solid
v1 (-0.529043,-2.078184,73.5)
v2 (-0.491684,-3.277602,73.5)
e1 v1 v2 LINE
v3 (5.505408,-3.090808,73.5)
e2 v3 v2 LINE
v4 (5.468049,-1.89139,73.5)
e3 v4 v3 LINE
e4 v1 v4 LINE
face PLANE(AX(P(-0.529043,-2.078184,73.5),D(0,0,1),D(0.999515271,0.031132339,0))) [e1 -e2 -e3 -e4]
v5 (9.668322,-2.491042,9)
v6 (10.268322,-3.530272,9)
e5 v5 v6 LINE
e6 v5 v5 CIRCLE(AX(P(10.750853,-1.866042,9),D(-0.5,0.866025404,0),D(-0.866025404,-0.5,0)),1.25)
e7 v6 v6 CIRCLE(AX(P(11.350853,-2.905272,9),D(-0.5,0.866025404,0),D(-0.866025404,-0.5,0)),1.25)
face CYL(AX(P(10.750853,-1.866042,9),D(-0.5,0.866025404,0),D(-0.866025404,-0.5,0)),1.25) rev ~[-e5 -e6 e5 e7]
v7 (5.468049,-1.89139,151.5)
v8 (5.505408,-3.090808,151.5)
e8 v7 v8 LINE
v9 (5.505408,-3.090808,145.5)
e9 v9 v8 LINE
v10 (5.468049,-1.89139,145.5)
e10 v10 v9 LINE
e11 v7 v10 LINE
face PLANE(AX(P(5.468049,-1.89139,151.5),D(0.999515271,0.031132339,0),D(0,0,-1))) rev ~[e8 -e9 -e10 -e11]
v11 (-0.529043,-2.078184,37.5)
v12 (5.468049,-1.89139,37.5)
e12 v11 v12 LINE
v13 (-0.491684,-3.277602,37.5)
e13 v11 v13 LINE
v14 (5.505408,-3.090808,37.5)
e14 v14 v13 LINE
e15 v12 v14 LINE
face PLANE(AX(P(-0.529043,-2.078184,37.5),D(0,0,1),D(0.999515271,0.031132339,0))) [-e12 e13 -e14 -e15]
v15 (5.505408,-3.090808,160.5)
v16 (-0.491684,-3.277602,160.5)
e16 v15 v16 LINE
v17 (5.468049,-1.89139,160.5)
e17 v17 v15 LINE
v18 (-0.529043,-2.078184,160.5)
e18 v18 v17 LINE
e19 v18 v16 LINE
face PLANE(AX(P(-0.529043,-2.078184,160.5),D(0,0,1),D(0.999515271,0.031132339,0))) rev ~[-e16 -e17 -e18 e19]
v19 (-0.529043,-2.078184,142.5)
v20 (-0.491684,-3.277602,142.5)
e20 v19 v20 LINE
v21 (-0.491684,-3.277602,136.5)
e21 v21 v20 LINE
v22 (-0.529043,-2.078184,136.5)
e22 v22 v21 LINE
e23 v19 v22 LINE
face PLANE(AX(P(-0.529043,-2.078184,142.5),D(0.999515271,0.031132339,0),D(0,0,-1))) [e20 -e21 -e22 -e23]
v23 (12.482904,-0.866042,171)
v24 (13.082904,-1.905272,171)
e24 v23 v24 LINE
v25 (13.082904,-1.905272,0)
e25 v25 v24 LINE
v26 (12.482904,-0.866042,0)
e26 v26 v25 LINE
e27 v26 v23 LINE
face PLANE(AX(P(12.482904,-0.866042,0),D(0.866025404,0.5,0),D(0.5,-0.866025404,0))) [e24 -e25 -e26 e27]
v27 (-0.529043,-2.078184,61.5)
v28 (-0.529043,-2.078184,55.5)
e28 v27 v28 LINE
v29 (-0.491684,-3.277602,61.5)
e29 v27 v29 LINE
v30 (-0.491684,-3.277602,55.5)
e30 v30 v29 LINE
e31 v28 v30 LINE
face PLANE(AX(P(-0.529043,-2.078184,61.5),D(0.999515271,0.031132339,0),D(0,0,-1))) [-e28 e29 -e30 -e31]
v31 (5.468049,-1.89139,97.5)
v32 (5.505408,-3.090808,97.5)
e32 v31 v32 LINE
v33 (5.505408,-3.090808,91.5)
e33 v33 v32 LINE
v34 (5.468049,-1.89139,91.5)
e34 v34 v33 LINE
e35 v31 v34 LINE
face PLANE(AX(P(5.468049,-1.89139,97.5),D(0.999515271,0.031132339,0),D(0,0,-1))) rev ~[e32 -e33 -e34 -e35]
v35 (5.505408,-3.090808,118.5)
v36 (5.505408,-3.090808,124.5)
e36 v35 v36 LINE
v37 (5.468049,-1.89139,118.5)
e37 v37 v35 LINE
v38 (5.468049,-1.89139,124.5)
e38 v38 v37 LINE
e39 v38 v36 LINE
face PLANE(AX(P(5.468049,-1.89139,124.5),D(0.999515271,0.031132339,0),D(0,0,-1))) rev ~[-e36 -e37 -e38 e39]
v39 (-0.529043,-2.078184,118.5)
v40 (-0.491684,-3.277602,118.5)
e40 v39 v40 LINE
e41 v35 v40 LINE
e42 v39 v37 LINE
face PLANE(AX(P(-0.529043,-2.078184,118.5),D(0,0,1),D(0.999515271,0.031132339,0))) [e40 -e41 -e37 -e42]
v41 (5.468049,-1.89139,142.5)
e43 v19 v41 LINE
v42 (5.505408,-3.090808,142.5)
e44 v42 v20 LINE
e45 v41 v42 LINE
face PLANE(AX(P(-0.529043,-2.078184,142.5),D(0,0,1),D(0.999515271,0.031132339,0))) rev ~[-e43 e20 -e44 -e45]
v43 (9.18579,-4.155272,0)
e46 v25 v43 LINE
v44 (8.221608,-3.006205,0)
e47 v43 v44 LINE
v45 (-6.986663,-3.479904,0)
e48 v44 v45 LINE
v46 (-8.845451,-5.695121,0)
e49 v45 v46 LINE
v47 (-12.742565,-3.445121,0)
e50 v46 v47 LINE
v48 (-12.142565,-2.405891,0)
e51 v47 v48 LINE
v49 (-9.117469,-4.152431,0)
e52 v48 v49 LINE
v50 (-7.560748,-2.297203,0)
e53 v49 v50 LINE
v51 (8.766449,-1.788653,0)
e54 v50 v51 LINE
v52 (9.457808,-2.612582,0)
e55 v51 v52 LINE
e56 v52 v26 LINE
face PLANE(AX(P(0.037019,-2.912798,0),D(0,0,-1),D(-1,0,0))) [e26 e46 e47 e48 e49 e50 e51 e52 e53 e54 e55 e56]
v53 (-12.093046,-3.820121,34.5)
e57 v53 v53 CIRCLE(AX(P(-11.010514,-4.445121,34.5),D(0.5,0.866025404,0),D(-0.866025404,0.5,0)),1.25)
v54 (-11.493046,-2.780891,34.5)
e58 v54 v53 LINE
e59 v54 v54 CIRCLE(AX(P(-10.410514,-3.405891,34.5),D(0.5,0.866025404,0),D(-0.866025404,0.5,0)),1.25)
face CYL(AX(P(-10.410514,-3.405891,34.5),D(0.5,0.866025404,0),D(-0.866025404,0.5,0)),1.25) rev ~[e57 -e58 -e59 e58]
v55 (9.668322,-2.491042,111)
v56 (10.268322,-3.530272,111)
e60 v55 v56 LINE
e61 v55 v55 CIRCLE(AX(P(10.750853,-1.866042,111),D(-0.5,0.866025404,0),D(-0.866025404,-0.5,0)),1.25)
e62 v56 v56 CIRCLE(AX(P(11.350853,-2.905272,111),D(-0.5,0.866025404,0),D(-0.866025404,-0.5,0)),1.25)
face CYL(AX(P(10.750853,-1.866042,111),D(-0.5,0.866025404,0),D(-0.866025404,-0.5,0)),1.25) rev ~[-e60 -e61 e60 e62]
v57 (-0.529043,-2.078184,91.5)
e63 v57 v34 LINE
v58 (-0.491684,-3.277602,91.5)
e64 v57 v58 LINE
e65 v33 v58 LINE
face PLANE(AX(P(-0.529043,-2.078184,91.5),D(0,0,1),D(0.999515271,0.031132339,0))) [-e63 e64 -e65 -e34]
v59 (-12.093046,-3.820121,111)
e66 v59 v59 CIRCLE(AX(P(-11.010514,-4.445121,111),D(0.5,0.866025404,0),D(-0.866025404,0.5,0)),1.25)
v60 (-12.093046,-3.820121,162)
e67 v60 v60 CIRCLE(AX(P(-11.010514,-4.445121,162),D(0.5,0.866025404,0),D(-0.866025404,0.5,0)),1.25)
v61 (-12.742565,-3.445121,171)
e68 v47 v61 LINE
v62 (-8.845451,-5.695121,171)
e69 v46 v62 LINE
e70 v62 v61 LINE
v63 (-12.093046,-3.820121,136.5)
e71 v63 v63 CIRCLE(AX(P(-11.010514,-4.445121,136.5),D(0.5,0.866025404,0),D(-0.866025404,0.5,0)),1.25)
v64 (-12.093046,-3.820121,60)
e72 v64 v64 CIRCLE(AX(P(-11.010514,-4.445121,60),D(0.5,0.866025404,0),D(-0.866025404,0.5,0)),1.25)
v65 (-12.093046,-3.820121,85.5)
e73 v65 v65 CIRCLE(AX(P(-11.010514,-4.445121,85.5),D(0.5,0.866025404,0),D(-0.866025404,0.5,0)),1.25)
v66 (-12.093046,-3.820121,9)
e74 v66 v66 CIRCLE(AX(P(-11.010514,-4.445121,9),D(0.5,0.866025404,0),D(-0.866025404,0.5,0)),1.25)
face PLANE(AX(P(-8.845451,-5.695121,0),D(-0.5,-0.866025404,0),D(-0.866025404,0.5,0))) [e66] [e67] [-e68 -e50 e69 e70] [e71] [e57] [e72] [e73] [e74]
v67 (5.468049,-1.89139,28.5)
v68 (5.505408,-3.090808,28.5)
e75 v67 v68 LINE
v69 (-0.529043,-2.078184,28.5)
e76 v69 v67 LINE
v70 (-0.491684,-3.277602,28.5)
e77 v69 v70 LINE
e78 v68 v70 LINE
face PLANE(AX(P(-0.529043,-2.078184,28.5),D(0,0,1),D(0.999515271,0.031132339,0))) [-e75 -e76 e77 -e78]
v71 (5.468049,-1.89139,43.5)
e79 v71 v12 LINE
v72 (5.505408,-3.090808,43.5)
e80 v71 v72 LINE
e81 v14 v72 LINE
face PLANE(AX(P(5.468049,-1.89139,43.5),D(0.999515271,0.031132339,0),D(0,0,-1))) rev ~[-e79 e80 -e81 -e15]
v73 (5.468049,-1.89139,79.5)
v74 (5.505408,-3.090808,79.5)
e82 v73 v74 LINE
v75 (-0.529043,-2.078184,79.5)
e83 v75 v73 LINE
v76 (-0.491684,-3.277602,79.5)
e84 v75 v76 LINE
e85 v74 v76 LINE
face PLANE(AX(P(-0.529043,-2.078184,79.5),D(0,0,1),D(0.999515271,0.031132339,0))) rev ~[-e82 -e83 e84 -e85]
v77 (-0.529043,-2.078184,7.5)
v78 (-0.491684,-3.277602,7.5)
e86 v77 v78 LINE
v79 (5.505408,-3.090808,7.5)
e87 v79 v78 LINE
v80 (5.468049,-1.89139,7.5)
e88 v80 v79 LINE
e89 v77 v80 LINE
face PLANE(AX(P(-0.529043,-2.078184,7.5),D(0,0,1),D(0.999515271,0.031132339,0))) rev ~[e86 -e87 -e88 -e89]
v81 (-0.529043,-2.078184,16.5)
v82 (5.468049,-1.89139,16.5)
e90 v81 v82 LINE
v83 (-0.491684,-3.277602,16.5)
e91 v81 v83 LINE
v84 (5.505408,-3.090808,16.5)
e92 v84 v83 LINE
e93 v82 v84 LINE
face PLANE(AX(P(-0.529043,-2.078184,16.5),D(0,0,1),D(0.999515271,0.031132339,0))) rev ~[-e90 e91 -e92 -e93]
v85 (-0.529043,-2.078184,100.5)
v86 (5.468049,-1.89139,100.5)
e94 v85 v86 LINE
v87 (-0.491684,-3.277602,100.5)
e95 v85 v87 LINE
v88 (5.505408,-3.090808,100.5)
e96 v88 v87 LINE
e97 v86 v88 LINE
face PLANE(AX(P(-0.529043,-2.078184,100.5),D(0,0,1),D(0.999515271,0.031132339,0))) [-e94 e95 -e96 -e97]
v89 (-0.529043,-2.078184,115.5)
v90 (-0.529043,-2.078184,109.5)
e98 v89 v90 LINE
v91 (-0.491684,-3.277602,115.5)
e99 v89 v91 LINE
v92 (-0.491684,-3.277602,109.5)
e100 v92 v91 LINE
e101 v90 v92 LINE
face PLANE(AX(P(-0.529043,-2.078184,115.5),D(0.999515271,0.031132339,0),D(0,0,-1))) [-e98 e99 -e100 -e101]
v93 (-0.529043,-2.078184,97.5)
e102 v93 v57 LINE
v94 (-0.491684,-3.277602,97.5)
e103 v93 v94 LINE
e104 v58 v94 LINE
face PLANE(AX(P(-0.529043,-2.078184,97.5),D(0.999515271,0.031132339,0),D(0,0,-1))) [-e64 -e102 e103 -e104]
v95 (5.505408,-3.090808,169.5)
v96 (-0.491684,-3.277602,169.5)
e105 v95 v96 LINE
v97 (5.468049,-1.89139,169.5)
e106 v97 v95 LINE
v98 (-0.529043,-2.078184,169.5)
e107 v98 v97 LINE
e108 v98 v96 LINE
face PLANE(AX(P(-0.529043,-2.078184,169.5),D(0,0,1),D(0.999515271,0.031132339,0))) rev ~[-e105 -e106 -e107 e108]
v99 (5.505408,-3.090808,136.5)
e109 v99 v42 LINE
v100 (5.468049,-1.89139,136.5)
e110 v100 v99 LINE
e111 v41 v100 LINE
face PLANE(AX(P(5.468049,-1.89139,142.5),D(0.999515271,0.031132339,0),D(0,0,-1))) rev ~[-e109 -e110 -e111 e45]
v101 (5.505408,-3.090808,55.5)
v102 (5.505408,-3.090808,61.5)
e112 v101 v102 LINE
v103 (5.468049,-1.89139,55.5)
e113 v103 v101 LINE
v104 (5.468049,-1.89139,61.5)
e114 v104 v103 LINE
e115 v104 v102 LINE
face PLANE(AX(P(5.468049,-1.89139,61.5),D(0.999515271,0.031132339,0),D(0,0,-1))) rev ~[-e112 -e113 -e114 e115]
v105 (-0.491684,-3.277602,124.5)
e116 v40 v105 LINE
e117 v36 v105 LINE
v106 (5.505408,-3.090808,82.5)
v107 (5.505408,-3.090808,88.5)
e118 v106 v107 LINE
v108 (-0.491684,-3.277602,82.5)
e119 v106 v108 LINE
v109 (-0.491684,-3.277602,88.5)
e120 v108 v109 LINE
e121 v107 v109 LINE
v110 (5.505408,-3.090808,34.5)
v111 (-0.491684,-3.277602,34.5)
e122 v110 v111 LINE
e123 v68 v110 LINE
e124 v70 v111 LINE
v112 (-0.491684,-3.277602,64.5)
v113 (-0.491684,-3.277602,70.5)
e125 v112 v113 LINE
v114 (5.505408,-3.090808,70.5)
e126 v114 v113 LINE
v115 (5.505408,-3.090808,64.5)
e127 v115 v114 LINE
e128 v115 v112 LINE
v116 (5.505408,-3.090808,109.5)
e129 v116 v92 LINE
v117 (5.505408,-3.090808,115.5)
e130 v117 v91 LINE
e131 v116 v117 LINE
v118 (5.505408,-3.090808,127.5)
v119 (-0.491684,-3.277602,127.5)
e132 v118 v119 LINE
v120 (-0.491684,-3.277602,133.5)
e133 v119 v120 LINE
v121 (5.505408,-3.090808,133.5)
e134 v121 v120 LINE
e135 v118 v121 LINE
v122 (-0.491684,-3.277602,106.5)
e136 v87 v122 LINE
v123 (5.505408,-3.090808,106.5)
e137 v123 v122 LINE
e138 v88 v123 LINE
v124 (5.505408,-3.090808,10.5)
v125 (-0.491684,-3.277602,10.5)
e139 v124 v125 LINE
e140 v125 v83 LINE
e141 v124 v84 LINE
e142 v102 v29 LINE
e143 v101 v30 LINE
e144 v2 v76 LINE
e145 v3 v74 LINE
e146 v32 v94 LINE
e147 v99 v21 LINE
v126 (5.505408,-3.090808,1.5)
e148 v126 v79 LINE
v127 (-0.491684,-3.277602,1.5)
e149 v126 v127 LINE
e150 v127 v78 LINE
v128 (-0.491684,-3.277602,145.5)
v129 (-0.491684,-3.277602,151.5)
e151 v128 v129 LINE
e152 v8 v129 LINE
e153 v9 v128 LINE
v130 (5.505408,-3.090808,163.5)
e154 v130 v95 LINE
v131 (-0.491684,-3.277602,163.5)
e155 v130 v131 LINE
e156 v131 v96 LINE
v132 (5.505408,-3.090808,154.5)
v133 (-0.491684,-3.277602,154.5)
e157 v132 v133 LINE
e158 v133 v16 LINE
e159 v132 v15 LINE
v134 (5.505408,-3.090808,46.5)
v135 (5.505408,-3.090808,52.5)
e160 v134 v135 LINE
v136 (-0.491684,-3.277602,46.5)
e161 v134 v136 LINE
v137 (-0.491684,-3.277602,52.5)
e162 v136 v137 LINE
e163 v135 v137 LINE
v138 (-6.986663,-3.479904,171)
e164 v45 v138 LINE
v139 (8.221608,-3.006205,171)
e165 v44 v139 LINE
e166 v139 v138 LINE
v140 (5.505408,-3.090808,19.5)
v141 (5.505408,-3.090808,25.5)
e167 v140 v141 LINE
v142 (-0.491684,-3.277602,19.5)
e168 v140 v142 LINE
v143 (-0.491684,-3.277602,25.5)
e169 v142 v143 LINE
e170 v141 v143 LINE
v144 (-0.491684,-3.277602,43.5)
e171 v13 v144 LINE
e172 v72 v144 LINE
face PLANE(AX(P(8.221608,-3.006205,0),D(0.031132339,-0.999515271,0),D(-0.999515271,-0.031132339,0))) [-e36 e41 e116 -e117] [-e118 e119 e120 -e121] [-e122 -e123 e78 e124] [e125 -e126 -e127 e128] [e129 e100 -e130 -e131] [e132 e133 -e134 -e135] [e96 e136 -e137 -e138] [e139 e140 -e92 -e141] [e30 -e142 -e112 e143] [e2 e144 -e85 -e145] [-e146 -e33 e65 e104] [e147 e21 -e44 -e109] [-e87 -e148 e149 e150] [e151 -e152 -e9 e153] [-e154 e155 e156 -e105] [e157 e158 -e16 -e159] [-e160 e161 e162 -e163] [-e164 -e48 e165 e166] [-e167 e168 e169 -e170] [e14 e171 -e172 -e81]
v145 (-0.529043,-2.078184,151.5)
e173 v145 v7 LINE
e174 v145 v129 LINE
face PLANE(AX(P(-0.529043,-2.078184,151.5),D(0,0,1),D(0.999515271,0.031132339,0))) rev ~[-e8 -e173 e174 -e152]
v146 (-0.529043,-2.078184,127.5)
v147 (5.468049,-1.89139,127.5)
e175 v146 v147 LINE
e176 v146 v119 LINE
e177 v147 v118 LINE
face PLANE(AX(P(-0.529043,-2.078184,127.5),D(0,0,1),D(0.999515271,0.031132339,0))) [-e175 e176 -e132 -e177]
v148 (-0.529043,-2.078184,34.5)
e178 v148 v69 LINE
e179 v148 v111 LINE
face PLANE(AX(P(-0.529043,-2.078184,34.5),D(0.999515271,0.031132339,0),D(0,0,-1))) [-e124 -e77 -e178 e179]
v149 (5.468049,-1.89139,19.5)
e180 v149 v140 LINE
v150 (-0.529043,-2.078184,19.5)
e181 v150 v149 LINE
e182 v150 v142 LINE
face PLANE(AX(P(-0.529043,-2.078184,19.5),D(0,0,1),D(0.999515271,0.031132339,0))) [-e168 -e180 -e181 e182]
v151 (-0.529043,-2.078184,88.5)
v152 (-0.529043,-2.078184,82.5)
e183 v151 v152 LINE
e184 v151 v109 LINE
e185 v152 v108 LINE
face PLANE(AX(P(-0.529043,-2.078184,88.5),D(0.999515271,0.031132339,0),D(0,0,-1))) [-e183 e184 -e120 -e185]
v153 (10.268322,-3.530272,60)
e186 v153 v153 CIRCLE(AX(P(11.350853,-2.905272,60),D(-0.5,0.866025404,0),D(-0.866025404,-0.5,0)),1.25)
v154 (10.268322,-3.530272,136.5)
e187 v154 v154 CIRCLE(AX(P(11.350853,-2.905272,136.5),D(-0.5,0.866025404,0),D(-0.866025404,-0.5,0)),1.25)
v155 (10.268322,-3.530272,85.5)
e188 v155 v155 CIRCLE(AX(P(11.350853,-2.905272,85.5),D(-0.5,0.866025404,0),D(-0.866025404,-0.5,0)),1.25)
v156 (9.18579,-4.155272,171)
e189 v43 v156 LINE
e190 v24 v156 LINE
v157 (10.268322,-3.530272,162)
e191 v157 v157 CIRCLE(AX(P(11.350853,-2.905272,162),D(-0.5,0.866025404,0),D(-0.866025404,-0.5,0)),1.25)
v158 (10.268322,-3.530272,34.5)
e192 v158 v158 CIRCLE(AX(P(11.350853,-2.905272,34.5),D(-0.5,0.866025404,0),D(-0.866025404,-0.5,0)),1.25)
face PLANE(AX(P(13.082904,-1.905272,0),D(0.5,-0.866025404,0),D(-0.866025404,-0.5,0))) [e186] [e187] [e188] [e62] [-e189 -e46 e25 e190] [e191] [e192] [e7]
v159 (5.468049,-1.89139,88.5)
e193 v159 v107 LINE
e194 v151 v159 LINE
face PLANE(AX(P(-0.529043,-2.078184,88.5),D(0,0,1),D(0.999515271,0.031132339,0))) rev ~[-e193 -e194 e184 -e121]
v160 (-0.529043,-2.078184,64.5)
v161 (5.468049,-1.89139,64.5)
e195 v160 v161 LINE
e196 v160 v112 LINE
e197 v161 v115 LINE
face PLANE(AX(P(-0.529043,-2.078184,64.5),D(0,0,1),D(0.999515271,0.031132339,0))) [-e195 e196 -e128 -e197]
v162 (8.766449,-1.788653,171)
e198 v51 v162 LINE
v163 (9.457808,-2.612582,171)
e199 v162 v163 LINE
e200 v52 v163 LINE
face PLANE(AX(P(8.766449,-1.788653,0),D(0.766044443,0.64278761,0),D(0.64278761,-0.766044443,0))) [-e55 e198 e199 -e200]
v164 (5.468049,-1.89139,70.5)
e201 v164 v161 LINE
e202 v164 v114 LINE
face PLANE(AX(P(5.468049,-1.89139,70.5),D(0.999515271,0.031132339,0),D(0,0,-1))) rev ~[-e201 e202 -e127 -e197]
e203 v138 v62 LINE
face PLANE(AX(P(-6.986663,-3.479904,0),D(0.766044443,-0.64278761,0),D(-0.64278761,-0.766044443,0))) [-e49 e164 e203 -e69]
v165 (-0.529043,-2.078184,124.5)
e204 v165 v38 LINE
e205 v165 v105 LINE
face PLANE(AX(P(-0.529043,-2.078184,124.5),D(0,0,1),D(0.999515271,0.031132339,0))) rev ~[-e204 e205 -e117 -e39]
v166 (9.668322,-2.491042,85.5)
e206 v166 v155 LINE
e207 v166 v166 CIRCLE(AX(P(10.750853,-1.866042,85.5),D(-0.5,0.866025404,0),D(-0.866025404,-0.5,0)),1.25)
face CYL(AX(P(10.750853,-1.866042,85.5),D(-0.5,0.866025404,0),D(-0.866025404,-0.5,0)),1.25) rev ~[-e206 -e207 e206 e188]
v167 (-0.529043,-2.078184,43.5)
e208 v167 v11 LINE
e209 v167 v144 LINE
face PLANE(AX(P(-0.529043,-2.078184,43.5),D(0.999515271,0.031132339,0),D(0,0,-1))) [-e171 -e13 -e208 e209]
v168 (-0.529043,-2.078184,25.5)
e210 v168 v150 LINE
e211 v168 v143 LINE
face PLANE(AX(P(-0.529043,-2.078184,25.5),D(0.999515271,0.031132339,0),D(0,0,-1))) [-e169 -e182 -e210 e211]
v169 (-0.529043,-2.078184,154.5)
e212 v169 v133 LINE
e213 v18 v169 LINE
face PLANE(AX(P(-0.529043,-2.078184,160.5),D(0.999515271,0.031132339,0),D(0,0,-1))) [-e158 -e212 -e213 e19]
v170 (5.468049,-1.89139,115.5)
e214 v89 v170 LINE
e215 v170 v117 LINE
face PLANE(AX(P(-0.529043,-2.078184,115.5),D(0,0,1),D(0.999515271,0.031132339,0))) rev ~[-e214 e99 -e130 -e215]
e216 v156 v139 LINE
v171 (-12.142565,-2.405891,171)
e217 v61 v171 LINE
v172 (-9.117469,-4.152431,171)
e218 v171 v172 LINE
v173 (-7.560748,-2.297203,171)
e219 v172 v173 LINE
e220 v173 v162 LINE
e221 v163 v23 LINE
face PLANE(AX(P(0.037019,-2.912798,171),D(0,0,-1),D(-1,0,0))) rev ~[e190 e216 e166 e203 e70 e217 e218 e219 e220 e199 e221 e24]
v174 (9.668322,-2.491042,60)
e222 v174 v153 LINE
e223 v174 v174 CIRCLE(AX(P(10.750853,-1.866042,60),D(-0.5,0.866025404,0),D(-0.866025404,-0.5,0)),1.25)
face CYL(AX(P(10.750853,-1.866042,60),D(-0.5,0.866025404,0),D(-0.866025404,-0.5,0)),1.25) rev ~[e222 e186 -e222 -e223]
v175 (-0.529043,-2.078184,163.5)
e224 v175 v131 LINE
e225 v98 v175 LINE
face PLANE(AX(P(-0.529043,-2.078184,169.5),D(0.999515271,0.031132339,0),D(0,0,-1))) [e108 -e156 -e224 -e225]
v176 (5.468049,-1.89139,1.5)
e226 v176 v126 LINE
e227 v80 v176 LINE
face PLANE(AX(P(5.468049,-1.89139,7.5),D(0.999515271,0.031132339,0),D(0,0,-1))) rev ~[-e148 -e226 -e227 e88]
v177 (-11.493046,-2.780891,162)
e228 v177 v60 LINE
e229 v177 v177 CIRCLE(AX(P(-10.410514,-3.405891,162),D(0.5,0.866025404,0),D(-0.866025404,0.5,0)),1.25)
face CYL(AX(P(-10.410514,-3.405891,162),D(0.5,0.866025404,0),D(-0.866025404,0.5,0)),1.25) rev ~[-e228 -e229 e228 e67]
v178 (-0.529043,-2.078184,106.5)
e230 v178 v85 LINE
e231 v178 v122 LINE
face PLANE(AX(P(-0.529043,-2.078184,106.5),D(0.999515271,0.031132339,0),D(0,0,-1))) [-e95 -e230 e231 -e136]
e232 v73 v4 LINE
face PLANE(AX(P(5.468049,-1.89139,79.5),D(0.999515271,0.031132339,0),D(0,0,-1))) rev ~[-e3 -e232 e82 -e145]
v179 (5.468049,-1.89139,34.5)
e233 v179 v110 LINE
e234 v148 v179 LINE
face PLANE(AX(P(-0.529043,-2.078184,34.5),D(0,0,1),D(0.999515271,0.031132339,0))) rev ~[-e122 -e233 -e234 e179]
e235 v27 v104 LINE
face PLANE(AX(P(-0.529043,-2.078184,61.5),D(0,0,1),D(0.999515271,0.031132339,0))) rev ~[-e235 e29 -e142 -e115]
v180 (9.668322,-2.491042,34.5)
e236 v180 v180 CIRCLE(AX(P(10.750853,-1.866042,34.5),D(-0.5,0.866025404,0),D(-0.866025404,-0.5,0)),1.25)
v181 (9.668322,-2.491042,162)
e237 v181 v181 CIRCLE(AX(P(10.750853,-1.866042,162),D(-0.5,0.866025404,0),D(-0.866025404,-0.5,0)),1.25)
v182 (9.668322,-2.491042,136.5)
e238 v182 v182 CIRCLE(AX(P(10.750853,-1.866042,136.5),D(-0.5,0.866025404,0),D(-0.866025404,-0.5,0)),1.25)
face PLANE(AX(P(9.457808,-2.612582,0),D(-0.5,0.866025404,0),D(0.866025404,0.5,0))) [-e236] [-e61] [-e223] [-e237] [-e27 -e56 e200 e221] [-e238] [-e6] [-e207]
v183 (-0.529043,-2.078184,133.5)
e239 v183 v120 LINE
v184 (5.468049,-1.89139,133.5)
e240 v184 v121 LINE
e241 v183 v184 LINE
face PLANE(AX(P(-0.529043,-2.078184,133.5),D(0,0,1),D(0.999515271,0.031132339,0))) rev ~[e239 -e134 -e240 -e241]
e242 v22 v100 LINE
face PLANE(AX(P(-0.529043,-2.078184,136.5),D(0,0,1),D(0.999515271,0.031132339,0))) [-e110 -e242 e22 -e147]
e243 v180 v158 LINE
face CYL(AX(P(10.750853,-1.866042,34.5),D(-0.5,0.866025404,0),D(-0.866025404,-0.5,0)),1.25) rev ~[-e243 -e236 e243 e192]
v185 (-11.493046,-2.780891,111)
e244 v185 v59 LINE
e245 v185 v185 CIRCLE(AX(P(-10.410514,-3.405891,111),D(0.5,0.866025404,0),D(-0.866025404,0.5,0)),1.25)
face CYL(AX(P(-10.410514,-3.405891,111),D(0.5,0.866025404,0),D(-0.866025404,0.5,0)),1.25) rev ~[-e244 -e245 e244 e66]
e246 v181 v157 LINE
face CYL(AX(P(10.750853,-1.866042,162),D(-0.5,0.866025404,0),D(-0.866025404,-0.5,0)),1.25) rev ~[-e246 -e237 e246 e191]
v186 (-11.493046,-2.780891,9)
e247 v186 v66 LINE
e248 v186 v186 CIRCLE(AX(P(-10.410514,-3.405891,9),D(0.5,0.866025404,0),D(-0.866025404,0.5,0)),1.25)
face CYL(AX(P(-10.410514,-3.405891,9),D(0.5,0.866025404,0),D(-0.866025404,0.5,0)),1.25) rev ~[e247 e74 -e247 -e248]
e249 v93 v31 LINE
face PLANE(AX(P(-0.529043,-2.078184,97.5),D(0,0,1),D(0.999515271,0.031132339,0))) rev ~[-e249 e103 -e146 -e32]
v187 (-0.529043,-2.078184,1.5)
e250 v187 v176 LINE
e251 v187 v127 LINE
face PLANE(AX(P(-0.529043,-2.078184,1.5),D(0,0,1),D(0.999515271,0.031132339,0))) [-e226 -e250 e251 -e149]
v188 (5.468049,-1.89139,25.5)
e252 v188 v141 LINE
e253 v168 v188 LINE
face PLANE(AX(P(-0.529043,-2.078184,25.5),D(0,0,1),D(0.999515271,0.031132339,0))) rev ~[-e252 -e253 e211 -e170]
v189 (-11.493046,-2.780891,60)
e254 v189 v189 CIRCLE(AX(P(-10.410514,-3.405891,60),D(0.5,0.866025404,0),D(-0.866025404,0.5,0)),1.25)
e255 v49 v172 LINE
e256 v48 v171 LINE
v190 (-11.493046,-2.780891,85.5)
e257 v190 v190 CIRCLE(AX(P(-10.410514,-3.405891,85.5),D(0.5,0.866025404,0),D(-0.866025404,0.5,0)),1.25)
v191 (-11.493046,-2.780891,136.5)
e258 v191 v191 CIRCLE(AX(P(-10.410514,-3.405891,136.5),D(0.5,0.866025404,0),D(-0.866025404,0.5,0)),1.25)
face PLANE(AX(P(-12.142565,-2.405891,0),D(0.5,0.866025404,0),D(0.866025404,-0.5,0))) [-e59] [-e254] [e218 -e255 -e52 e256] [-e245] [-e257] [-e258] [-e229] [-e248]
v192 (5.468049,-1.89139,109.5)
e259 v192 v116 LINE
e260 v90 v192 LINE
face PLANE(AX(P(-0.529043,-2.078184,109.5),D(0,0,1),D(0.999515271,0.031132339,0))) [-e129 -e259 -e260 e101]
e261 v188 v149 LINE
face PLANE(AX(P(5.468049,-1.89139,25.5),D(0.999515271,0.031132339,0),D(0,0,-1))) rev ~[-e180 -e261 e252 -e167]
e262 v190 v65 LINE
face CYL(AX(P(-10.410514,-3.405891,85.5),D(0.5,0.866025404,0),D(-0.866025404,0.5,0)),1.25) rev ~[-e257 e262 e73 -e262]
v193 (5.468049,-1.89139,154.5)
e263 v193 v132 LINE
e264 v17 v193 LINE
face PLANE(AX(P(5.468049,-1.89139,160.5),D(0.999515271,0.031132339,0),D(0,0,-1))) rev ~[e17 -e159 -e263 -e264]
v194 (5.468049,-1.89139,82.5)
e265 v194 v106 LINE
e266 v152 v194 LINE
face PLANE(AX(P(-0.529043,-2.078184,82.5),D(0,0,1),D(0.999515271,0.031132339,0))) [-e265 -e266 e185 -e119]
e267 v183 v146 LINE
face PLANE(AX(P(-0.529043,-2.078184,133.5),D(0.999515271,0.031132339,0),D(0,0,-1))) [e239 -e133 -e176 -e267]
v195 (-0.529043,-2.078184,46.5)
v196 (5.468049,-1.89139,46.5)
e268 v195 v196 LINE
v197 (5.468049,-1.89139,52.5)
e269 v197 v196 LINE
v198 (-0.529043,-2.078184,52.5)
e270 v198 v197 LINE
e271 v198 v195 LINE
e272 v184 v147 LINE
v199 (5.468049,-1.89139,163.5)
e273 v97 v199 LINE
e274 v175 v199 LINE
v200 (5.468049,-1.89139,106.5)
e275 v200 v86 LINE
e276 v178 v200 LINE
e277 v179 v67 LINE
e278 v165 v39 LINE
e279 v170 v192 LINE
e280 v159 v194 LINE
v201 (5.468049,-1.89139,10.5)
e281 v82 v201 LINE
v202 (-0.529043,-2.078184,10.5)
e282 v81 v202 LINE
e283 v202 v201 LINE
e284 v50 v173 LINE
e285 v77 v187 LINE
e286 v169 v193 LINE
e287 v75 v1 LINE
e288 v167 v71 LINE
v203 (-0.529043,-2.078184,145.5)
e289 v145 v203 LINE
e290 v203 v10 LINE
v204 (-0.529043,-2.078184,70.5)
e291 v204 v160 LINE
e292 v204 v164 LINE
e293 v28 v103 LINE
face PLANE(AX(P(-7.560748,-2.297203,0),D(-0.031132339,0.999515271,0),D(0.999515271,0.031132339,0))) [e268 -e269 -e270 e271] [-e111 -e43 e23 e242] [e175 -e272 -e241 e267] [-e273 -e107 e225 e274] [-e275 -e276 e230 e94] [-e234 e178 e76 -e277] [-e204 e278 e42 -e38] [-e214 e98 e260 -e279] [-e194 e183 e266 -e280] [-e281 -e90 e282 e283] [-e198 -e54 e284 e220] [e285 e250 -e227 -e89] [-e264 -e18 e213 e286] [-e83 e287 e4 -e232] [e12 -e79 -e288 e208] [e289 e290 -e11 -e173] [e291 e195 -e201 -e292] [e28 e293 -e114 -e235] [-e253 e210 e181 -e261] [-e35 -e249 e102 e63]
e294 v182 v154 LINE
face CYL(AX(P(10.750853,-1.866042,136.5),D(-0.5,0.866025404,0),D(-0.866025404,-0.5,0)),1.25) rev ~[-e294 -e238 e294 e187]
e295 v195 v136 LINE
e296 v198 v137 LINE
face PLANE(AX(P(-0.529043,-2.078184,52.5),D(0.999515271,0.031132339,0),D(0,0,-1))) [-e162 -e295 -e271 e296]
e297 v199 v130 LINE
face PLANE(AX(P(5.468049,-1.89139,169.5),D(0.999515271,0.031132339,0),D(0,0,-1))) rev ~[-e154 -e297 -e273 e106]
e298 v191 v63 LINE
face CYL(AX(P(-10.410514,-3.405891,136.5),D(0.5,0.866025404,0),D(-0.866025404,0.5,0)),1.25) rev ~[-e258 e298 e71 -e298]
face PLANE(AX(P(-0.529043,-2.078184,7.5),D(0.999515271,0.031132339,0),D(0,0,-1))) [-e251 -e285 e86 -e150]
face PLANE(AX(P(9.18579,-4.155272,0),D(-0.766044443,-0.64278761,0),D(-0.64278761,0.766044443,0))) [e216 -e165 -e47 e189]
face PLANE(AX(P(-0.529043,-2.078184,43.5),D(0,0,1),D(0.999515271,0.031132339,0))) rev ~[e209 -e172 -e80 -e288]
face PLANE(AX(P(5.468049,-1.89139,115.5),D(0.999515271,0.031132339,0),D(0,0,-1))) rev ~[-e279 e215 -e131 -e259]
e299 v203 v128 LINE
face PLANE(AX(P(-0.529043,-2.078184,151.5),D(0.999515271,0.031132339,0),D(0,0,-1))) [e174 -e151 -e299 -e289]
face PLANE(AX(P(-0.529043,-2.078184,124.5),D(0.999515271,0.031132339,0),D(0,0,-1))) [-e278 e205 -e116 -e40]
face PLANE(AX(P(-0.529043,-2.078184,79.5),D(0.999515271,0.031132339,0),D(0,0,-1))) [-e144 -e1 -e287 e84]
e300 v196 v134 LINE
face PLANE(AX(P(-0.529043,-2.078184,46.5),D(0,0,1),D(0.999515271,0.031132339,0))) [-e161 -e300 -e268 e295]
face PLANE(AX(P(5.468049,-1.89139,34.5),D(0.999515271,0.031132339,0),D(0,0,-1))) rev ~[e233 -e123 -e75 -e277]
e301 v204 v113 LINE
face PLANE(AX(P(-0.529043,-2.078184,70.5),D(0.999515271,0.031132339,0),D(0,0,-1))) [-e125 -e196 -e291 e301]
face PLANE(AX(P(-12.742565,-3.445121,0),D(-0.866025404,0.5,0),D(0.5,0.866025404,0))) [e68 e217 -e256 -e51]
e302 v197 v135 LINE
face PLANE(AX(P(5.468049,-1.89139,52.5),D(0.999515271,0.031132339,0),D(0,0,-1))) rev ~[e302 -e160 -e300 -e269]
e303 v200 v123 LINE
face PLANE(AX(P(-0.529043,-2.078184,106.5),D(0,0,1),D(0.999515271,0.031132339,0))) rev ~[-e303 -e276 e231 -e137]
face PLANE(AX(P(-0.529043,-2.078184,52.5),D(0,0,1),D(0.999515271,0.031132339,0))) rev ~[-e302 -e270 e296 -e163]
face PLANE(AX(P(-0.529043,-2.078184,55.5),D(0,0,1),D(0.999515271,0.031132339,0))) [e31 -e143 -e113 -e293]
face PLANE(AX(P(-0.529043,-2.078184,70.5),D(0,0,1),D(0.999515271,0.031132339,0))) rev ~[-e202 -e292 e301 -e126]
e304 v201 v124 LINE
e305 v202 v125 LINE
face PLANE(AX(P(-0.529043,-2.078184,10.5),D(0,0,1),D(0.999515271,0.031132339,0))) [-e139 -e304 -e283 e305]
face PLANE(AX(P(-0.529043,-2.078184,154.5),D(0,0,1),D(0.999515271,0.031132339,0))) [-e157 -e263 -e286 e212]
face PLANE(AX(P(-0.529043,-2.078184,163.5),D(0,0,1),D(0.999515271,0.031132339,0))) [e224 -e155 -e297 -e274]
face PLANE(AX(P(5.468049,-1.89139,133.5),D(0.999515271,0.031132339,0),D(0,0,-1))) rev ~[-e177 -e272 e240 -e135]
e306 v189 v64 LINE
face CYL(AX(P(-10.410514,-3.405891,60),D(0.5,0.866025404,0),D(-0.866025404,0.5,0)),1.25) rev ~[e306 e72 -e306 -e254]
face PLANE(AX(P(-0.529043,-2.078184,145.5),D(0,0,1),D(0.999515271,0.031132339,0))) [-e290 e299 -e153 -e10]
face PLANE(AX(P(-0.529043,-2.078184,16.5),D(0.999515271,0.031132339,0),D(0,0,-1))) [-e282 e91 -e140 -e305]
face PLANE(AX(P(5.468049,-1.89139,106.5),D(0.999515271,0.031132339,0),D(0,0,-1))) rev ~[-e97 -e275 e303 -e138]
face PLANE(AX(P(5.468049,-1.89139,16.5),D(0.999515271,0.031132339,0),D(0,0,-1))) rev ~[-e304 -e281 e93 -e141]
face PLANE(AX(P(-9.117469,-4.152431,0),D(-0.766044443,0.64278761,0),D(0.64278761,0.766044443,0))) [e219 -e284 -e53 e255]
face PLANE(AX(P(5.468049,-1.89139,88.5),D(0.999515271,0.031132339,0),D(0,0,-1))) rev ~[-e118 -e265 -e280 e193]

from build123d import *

# Parameters (mm, degrees)
BOSS_EXTRUDE1_DEPTH = 171
SKETCH2_R           = 1.25
CUT_EXTRUDE1_DEPTH  = 10
SKETCH4_R           = 1.25
CUT_EXTRUDE2_DEPTH  = 10
LPATTERN1_COUNT     = 7
LPATTERN1_PITCH     = 25.5
SKETCH5_W           = 6
SKETCH5_H           = 6
CUT_EXTRUDE3_DEPTH  = 10
LPATTERN2_COUNT     = 19
LPATTERN2_PITCH     = 9


with BuildPart() as part:
    # Sketch1 → Boss-Extrude1 (new body)
    with BuildSketch(Plane.XY):
        Polygon((-7.560747901, -2.297203345), (8.76644945, -1.788652997), (9.457807768, -2.612581756), (12.482904169, -0.866041535), (13.082904169, -1.905272019), (9.185789852, -4.155272019), (8.221608437, -3.006205355), (-6.986662858, -3.479904024), (-8.845450789, -5.695121219), (-12.742565106, -3.445121219), (-12.142565106, -2.405890734), (-9.117468705, -4.152430955), align=None)
    extrude(amount=BOSS_EXTRUDE1_DEPTH)

    # Sketch2 → Cut-Extrude1 (cut)
    with BuildSketch(Plane(origin=(3.495733027, -6.054787213, 0), x_dir=(0.8660254037844403, 0.49999999999999734, 0), z_dir=(-0.49999999999999734, 0.8660254037844403, 0))):
        with Locations(Location((8.377491356, -162, 0), (0, 0, 180))):
            Circle(SKETCH2_R)
    cut_extrude1 = extrude(amount=-CUT_EXTRUDE1_DEPTH, mode=Mode.SUBTRACT)

    # Sketch4 → Cut-Extrude2 (cut)
    with BuildSketch(Plane(origin=(-4.077422524, -7.062302975, 0), x_dir=(0.8660254037844392, -0.49999999999999917, 0), z_dir=(0.49999999999999917, 0.8660254037844392, 0))):
        with Locations(Location((-7.312824482, -162, 0), (0, 0, 180))):
            Circle(SKETCH4_R)
    cut_extrude2 = extrude(amount=-CUT_EXTRUDE2_DEPTH, mode=Mode.SUBTRACT)

    # LPattern1: Cut-Extrude1, Cut-Extrude2 ×7
    with Locations(*[(0, 0, -i * LPATTERN1_PITCH) for i in range(1, LPATTERN1_COUNT)]):
        add(cut_extrude1, mode=Mode.SUBTRACT)
        add(cut_extrude2, mode=Mode.SUBTRACT)

    # Sketch5 → Cut-Extrude3 (cut)
    with BuildSketch(Plane(origin=(0.064154599, -2.059707176, 0), x_dir=(0.9995152712604761, 0.031132338766899612, 0), z_dir=(-0.031132338766899612, 0.9995152712604761, 0))):
        with Locations((2.406515149, -166.5)):
            Rectangle(SKETCH5_W, SKETCH5_H)
    cut_extrude3 = extrude(amount=-CUT_EXTRUDE3_DEPTH, mode=Mode.SUBTRACT)

    # LPattern2: Cut-Extrude3 ×19
    with Locations(*[(0, 0, -i * LPATTERN2_PITCH) for i in range(1, LPATTERN2_COUNT)]):
        add(cut_extrude3, mode=Mode.SUBTRACT)


solid = part.part
